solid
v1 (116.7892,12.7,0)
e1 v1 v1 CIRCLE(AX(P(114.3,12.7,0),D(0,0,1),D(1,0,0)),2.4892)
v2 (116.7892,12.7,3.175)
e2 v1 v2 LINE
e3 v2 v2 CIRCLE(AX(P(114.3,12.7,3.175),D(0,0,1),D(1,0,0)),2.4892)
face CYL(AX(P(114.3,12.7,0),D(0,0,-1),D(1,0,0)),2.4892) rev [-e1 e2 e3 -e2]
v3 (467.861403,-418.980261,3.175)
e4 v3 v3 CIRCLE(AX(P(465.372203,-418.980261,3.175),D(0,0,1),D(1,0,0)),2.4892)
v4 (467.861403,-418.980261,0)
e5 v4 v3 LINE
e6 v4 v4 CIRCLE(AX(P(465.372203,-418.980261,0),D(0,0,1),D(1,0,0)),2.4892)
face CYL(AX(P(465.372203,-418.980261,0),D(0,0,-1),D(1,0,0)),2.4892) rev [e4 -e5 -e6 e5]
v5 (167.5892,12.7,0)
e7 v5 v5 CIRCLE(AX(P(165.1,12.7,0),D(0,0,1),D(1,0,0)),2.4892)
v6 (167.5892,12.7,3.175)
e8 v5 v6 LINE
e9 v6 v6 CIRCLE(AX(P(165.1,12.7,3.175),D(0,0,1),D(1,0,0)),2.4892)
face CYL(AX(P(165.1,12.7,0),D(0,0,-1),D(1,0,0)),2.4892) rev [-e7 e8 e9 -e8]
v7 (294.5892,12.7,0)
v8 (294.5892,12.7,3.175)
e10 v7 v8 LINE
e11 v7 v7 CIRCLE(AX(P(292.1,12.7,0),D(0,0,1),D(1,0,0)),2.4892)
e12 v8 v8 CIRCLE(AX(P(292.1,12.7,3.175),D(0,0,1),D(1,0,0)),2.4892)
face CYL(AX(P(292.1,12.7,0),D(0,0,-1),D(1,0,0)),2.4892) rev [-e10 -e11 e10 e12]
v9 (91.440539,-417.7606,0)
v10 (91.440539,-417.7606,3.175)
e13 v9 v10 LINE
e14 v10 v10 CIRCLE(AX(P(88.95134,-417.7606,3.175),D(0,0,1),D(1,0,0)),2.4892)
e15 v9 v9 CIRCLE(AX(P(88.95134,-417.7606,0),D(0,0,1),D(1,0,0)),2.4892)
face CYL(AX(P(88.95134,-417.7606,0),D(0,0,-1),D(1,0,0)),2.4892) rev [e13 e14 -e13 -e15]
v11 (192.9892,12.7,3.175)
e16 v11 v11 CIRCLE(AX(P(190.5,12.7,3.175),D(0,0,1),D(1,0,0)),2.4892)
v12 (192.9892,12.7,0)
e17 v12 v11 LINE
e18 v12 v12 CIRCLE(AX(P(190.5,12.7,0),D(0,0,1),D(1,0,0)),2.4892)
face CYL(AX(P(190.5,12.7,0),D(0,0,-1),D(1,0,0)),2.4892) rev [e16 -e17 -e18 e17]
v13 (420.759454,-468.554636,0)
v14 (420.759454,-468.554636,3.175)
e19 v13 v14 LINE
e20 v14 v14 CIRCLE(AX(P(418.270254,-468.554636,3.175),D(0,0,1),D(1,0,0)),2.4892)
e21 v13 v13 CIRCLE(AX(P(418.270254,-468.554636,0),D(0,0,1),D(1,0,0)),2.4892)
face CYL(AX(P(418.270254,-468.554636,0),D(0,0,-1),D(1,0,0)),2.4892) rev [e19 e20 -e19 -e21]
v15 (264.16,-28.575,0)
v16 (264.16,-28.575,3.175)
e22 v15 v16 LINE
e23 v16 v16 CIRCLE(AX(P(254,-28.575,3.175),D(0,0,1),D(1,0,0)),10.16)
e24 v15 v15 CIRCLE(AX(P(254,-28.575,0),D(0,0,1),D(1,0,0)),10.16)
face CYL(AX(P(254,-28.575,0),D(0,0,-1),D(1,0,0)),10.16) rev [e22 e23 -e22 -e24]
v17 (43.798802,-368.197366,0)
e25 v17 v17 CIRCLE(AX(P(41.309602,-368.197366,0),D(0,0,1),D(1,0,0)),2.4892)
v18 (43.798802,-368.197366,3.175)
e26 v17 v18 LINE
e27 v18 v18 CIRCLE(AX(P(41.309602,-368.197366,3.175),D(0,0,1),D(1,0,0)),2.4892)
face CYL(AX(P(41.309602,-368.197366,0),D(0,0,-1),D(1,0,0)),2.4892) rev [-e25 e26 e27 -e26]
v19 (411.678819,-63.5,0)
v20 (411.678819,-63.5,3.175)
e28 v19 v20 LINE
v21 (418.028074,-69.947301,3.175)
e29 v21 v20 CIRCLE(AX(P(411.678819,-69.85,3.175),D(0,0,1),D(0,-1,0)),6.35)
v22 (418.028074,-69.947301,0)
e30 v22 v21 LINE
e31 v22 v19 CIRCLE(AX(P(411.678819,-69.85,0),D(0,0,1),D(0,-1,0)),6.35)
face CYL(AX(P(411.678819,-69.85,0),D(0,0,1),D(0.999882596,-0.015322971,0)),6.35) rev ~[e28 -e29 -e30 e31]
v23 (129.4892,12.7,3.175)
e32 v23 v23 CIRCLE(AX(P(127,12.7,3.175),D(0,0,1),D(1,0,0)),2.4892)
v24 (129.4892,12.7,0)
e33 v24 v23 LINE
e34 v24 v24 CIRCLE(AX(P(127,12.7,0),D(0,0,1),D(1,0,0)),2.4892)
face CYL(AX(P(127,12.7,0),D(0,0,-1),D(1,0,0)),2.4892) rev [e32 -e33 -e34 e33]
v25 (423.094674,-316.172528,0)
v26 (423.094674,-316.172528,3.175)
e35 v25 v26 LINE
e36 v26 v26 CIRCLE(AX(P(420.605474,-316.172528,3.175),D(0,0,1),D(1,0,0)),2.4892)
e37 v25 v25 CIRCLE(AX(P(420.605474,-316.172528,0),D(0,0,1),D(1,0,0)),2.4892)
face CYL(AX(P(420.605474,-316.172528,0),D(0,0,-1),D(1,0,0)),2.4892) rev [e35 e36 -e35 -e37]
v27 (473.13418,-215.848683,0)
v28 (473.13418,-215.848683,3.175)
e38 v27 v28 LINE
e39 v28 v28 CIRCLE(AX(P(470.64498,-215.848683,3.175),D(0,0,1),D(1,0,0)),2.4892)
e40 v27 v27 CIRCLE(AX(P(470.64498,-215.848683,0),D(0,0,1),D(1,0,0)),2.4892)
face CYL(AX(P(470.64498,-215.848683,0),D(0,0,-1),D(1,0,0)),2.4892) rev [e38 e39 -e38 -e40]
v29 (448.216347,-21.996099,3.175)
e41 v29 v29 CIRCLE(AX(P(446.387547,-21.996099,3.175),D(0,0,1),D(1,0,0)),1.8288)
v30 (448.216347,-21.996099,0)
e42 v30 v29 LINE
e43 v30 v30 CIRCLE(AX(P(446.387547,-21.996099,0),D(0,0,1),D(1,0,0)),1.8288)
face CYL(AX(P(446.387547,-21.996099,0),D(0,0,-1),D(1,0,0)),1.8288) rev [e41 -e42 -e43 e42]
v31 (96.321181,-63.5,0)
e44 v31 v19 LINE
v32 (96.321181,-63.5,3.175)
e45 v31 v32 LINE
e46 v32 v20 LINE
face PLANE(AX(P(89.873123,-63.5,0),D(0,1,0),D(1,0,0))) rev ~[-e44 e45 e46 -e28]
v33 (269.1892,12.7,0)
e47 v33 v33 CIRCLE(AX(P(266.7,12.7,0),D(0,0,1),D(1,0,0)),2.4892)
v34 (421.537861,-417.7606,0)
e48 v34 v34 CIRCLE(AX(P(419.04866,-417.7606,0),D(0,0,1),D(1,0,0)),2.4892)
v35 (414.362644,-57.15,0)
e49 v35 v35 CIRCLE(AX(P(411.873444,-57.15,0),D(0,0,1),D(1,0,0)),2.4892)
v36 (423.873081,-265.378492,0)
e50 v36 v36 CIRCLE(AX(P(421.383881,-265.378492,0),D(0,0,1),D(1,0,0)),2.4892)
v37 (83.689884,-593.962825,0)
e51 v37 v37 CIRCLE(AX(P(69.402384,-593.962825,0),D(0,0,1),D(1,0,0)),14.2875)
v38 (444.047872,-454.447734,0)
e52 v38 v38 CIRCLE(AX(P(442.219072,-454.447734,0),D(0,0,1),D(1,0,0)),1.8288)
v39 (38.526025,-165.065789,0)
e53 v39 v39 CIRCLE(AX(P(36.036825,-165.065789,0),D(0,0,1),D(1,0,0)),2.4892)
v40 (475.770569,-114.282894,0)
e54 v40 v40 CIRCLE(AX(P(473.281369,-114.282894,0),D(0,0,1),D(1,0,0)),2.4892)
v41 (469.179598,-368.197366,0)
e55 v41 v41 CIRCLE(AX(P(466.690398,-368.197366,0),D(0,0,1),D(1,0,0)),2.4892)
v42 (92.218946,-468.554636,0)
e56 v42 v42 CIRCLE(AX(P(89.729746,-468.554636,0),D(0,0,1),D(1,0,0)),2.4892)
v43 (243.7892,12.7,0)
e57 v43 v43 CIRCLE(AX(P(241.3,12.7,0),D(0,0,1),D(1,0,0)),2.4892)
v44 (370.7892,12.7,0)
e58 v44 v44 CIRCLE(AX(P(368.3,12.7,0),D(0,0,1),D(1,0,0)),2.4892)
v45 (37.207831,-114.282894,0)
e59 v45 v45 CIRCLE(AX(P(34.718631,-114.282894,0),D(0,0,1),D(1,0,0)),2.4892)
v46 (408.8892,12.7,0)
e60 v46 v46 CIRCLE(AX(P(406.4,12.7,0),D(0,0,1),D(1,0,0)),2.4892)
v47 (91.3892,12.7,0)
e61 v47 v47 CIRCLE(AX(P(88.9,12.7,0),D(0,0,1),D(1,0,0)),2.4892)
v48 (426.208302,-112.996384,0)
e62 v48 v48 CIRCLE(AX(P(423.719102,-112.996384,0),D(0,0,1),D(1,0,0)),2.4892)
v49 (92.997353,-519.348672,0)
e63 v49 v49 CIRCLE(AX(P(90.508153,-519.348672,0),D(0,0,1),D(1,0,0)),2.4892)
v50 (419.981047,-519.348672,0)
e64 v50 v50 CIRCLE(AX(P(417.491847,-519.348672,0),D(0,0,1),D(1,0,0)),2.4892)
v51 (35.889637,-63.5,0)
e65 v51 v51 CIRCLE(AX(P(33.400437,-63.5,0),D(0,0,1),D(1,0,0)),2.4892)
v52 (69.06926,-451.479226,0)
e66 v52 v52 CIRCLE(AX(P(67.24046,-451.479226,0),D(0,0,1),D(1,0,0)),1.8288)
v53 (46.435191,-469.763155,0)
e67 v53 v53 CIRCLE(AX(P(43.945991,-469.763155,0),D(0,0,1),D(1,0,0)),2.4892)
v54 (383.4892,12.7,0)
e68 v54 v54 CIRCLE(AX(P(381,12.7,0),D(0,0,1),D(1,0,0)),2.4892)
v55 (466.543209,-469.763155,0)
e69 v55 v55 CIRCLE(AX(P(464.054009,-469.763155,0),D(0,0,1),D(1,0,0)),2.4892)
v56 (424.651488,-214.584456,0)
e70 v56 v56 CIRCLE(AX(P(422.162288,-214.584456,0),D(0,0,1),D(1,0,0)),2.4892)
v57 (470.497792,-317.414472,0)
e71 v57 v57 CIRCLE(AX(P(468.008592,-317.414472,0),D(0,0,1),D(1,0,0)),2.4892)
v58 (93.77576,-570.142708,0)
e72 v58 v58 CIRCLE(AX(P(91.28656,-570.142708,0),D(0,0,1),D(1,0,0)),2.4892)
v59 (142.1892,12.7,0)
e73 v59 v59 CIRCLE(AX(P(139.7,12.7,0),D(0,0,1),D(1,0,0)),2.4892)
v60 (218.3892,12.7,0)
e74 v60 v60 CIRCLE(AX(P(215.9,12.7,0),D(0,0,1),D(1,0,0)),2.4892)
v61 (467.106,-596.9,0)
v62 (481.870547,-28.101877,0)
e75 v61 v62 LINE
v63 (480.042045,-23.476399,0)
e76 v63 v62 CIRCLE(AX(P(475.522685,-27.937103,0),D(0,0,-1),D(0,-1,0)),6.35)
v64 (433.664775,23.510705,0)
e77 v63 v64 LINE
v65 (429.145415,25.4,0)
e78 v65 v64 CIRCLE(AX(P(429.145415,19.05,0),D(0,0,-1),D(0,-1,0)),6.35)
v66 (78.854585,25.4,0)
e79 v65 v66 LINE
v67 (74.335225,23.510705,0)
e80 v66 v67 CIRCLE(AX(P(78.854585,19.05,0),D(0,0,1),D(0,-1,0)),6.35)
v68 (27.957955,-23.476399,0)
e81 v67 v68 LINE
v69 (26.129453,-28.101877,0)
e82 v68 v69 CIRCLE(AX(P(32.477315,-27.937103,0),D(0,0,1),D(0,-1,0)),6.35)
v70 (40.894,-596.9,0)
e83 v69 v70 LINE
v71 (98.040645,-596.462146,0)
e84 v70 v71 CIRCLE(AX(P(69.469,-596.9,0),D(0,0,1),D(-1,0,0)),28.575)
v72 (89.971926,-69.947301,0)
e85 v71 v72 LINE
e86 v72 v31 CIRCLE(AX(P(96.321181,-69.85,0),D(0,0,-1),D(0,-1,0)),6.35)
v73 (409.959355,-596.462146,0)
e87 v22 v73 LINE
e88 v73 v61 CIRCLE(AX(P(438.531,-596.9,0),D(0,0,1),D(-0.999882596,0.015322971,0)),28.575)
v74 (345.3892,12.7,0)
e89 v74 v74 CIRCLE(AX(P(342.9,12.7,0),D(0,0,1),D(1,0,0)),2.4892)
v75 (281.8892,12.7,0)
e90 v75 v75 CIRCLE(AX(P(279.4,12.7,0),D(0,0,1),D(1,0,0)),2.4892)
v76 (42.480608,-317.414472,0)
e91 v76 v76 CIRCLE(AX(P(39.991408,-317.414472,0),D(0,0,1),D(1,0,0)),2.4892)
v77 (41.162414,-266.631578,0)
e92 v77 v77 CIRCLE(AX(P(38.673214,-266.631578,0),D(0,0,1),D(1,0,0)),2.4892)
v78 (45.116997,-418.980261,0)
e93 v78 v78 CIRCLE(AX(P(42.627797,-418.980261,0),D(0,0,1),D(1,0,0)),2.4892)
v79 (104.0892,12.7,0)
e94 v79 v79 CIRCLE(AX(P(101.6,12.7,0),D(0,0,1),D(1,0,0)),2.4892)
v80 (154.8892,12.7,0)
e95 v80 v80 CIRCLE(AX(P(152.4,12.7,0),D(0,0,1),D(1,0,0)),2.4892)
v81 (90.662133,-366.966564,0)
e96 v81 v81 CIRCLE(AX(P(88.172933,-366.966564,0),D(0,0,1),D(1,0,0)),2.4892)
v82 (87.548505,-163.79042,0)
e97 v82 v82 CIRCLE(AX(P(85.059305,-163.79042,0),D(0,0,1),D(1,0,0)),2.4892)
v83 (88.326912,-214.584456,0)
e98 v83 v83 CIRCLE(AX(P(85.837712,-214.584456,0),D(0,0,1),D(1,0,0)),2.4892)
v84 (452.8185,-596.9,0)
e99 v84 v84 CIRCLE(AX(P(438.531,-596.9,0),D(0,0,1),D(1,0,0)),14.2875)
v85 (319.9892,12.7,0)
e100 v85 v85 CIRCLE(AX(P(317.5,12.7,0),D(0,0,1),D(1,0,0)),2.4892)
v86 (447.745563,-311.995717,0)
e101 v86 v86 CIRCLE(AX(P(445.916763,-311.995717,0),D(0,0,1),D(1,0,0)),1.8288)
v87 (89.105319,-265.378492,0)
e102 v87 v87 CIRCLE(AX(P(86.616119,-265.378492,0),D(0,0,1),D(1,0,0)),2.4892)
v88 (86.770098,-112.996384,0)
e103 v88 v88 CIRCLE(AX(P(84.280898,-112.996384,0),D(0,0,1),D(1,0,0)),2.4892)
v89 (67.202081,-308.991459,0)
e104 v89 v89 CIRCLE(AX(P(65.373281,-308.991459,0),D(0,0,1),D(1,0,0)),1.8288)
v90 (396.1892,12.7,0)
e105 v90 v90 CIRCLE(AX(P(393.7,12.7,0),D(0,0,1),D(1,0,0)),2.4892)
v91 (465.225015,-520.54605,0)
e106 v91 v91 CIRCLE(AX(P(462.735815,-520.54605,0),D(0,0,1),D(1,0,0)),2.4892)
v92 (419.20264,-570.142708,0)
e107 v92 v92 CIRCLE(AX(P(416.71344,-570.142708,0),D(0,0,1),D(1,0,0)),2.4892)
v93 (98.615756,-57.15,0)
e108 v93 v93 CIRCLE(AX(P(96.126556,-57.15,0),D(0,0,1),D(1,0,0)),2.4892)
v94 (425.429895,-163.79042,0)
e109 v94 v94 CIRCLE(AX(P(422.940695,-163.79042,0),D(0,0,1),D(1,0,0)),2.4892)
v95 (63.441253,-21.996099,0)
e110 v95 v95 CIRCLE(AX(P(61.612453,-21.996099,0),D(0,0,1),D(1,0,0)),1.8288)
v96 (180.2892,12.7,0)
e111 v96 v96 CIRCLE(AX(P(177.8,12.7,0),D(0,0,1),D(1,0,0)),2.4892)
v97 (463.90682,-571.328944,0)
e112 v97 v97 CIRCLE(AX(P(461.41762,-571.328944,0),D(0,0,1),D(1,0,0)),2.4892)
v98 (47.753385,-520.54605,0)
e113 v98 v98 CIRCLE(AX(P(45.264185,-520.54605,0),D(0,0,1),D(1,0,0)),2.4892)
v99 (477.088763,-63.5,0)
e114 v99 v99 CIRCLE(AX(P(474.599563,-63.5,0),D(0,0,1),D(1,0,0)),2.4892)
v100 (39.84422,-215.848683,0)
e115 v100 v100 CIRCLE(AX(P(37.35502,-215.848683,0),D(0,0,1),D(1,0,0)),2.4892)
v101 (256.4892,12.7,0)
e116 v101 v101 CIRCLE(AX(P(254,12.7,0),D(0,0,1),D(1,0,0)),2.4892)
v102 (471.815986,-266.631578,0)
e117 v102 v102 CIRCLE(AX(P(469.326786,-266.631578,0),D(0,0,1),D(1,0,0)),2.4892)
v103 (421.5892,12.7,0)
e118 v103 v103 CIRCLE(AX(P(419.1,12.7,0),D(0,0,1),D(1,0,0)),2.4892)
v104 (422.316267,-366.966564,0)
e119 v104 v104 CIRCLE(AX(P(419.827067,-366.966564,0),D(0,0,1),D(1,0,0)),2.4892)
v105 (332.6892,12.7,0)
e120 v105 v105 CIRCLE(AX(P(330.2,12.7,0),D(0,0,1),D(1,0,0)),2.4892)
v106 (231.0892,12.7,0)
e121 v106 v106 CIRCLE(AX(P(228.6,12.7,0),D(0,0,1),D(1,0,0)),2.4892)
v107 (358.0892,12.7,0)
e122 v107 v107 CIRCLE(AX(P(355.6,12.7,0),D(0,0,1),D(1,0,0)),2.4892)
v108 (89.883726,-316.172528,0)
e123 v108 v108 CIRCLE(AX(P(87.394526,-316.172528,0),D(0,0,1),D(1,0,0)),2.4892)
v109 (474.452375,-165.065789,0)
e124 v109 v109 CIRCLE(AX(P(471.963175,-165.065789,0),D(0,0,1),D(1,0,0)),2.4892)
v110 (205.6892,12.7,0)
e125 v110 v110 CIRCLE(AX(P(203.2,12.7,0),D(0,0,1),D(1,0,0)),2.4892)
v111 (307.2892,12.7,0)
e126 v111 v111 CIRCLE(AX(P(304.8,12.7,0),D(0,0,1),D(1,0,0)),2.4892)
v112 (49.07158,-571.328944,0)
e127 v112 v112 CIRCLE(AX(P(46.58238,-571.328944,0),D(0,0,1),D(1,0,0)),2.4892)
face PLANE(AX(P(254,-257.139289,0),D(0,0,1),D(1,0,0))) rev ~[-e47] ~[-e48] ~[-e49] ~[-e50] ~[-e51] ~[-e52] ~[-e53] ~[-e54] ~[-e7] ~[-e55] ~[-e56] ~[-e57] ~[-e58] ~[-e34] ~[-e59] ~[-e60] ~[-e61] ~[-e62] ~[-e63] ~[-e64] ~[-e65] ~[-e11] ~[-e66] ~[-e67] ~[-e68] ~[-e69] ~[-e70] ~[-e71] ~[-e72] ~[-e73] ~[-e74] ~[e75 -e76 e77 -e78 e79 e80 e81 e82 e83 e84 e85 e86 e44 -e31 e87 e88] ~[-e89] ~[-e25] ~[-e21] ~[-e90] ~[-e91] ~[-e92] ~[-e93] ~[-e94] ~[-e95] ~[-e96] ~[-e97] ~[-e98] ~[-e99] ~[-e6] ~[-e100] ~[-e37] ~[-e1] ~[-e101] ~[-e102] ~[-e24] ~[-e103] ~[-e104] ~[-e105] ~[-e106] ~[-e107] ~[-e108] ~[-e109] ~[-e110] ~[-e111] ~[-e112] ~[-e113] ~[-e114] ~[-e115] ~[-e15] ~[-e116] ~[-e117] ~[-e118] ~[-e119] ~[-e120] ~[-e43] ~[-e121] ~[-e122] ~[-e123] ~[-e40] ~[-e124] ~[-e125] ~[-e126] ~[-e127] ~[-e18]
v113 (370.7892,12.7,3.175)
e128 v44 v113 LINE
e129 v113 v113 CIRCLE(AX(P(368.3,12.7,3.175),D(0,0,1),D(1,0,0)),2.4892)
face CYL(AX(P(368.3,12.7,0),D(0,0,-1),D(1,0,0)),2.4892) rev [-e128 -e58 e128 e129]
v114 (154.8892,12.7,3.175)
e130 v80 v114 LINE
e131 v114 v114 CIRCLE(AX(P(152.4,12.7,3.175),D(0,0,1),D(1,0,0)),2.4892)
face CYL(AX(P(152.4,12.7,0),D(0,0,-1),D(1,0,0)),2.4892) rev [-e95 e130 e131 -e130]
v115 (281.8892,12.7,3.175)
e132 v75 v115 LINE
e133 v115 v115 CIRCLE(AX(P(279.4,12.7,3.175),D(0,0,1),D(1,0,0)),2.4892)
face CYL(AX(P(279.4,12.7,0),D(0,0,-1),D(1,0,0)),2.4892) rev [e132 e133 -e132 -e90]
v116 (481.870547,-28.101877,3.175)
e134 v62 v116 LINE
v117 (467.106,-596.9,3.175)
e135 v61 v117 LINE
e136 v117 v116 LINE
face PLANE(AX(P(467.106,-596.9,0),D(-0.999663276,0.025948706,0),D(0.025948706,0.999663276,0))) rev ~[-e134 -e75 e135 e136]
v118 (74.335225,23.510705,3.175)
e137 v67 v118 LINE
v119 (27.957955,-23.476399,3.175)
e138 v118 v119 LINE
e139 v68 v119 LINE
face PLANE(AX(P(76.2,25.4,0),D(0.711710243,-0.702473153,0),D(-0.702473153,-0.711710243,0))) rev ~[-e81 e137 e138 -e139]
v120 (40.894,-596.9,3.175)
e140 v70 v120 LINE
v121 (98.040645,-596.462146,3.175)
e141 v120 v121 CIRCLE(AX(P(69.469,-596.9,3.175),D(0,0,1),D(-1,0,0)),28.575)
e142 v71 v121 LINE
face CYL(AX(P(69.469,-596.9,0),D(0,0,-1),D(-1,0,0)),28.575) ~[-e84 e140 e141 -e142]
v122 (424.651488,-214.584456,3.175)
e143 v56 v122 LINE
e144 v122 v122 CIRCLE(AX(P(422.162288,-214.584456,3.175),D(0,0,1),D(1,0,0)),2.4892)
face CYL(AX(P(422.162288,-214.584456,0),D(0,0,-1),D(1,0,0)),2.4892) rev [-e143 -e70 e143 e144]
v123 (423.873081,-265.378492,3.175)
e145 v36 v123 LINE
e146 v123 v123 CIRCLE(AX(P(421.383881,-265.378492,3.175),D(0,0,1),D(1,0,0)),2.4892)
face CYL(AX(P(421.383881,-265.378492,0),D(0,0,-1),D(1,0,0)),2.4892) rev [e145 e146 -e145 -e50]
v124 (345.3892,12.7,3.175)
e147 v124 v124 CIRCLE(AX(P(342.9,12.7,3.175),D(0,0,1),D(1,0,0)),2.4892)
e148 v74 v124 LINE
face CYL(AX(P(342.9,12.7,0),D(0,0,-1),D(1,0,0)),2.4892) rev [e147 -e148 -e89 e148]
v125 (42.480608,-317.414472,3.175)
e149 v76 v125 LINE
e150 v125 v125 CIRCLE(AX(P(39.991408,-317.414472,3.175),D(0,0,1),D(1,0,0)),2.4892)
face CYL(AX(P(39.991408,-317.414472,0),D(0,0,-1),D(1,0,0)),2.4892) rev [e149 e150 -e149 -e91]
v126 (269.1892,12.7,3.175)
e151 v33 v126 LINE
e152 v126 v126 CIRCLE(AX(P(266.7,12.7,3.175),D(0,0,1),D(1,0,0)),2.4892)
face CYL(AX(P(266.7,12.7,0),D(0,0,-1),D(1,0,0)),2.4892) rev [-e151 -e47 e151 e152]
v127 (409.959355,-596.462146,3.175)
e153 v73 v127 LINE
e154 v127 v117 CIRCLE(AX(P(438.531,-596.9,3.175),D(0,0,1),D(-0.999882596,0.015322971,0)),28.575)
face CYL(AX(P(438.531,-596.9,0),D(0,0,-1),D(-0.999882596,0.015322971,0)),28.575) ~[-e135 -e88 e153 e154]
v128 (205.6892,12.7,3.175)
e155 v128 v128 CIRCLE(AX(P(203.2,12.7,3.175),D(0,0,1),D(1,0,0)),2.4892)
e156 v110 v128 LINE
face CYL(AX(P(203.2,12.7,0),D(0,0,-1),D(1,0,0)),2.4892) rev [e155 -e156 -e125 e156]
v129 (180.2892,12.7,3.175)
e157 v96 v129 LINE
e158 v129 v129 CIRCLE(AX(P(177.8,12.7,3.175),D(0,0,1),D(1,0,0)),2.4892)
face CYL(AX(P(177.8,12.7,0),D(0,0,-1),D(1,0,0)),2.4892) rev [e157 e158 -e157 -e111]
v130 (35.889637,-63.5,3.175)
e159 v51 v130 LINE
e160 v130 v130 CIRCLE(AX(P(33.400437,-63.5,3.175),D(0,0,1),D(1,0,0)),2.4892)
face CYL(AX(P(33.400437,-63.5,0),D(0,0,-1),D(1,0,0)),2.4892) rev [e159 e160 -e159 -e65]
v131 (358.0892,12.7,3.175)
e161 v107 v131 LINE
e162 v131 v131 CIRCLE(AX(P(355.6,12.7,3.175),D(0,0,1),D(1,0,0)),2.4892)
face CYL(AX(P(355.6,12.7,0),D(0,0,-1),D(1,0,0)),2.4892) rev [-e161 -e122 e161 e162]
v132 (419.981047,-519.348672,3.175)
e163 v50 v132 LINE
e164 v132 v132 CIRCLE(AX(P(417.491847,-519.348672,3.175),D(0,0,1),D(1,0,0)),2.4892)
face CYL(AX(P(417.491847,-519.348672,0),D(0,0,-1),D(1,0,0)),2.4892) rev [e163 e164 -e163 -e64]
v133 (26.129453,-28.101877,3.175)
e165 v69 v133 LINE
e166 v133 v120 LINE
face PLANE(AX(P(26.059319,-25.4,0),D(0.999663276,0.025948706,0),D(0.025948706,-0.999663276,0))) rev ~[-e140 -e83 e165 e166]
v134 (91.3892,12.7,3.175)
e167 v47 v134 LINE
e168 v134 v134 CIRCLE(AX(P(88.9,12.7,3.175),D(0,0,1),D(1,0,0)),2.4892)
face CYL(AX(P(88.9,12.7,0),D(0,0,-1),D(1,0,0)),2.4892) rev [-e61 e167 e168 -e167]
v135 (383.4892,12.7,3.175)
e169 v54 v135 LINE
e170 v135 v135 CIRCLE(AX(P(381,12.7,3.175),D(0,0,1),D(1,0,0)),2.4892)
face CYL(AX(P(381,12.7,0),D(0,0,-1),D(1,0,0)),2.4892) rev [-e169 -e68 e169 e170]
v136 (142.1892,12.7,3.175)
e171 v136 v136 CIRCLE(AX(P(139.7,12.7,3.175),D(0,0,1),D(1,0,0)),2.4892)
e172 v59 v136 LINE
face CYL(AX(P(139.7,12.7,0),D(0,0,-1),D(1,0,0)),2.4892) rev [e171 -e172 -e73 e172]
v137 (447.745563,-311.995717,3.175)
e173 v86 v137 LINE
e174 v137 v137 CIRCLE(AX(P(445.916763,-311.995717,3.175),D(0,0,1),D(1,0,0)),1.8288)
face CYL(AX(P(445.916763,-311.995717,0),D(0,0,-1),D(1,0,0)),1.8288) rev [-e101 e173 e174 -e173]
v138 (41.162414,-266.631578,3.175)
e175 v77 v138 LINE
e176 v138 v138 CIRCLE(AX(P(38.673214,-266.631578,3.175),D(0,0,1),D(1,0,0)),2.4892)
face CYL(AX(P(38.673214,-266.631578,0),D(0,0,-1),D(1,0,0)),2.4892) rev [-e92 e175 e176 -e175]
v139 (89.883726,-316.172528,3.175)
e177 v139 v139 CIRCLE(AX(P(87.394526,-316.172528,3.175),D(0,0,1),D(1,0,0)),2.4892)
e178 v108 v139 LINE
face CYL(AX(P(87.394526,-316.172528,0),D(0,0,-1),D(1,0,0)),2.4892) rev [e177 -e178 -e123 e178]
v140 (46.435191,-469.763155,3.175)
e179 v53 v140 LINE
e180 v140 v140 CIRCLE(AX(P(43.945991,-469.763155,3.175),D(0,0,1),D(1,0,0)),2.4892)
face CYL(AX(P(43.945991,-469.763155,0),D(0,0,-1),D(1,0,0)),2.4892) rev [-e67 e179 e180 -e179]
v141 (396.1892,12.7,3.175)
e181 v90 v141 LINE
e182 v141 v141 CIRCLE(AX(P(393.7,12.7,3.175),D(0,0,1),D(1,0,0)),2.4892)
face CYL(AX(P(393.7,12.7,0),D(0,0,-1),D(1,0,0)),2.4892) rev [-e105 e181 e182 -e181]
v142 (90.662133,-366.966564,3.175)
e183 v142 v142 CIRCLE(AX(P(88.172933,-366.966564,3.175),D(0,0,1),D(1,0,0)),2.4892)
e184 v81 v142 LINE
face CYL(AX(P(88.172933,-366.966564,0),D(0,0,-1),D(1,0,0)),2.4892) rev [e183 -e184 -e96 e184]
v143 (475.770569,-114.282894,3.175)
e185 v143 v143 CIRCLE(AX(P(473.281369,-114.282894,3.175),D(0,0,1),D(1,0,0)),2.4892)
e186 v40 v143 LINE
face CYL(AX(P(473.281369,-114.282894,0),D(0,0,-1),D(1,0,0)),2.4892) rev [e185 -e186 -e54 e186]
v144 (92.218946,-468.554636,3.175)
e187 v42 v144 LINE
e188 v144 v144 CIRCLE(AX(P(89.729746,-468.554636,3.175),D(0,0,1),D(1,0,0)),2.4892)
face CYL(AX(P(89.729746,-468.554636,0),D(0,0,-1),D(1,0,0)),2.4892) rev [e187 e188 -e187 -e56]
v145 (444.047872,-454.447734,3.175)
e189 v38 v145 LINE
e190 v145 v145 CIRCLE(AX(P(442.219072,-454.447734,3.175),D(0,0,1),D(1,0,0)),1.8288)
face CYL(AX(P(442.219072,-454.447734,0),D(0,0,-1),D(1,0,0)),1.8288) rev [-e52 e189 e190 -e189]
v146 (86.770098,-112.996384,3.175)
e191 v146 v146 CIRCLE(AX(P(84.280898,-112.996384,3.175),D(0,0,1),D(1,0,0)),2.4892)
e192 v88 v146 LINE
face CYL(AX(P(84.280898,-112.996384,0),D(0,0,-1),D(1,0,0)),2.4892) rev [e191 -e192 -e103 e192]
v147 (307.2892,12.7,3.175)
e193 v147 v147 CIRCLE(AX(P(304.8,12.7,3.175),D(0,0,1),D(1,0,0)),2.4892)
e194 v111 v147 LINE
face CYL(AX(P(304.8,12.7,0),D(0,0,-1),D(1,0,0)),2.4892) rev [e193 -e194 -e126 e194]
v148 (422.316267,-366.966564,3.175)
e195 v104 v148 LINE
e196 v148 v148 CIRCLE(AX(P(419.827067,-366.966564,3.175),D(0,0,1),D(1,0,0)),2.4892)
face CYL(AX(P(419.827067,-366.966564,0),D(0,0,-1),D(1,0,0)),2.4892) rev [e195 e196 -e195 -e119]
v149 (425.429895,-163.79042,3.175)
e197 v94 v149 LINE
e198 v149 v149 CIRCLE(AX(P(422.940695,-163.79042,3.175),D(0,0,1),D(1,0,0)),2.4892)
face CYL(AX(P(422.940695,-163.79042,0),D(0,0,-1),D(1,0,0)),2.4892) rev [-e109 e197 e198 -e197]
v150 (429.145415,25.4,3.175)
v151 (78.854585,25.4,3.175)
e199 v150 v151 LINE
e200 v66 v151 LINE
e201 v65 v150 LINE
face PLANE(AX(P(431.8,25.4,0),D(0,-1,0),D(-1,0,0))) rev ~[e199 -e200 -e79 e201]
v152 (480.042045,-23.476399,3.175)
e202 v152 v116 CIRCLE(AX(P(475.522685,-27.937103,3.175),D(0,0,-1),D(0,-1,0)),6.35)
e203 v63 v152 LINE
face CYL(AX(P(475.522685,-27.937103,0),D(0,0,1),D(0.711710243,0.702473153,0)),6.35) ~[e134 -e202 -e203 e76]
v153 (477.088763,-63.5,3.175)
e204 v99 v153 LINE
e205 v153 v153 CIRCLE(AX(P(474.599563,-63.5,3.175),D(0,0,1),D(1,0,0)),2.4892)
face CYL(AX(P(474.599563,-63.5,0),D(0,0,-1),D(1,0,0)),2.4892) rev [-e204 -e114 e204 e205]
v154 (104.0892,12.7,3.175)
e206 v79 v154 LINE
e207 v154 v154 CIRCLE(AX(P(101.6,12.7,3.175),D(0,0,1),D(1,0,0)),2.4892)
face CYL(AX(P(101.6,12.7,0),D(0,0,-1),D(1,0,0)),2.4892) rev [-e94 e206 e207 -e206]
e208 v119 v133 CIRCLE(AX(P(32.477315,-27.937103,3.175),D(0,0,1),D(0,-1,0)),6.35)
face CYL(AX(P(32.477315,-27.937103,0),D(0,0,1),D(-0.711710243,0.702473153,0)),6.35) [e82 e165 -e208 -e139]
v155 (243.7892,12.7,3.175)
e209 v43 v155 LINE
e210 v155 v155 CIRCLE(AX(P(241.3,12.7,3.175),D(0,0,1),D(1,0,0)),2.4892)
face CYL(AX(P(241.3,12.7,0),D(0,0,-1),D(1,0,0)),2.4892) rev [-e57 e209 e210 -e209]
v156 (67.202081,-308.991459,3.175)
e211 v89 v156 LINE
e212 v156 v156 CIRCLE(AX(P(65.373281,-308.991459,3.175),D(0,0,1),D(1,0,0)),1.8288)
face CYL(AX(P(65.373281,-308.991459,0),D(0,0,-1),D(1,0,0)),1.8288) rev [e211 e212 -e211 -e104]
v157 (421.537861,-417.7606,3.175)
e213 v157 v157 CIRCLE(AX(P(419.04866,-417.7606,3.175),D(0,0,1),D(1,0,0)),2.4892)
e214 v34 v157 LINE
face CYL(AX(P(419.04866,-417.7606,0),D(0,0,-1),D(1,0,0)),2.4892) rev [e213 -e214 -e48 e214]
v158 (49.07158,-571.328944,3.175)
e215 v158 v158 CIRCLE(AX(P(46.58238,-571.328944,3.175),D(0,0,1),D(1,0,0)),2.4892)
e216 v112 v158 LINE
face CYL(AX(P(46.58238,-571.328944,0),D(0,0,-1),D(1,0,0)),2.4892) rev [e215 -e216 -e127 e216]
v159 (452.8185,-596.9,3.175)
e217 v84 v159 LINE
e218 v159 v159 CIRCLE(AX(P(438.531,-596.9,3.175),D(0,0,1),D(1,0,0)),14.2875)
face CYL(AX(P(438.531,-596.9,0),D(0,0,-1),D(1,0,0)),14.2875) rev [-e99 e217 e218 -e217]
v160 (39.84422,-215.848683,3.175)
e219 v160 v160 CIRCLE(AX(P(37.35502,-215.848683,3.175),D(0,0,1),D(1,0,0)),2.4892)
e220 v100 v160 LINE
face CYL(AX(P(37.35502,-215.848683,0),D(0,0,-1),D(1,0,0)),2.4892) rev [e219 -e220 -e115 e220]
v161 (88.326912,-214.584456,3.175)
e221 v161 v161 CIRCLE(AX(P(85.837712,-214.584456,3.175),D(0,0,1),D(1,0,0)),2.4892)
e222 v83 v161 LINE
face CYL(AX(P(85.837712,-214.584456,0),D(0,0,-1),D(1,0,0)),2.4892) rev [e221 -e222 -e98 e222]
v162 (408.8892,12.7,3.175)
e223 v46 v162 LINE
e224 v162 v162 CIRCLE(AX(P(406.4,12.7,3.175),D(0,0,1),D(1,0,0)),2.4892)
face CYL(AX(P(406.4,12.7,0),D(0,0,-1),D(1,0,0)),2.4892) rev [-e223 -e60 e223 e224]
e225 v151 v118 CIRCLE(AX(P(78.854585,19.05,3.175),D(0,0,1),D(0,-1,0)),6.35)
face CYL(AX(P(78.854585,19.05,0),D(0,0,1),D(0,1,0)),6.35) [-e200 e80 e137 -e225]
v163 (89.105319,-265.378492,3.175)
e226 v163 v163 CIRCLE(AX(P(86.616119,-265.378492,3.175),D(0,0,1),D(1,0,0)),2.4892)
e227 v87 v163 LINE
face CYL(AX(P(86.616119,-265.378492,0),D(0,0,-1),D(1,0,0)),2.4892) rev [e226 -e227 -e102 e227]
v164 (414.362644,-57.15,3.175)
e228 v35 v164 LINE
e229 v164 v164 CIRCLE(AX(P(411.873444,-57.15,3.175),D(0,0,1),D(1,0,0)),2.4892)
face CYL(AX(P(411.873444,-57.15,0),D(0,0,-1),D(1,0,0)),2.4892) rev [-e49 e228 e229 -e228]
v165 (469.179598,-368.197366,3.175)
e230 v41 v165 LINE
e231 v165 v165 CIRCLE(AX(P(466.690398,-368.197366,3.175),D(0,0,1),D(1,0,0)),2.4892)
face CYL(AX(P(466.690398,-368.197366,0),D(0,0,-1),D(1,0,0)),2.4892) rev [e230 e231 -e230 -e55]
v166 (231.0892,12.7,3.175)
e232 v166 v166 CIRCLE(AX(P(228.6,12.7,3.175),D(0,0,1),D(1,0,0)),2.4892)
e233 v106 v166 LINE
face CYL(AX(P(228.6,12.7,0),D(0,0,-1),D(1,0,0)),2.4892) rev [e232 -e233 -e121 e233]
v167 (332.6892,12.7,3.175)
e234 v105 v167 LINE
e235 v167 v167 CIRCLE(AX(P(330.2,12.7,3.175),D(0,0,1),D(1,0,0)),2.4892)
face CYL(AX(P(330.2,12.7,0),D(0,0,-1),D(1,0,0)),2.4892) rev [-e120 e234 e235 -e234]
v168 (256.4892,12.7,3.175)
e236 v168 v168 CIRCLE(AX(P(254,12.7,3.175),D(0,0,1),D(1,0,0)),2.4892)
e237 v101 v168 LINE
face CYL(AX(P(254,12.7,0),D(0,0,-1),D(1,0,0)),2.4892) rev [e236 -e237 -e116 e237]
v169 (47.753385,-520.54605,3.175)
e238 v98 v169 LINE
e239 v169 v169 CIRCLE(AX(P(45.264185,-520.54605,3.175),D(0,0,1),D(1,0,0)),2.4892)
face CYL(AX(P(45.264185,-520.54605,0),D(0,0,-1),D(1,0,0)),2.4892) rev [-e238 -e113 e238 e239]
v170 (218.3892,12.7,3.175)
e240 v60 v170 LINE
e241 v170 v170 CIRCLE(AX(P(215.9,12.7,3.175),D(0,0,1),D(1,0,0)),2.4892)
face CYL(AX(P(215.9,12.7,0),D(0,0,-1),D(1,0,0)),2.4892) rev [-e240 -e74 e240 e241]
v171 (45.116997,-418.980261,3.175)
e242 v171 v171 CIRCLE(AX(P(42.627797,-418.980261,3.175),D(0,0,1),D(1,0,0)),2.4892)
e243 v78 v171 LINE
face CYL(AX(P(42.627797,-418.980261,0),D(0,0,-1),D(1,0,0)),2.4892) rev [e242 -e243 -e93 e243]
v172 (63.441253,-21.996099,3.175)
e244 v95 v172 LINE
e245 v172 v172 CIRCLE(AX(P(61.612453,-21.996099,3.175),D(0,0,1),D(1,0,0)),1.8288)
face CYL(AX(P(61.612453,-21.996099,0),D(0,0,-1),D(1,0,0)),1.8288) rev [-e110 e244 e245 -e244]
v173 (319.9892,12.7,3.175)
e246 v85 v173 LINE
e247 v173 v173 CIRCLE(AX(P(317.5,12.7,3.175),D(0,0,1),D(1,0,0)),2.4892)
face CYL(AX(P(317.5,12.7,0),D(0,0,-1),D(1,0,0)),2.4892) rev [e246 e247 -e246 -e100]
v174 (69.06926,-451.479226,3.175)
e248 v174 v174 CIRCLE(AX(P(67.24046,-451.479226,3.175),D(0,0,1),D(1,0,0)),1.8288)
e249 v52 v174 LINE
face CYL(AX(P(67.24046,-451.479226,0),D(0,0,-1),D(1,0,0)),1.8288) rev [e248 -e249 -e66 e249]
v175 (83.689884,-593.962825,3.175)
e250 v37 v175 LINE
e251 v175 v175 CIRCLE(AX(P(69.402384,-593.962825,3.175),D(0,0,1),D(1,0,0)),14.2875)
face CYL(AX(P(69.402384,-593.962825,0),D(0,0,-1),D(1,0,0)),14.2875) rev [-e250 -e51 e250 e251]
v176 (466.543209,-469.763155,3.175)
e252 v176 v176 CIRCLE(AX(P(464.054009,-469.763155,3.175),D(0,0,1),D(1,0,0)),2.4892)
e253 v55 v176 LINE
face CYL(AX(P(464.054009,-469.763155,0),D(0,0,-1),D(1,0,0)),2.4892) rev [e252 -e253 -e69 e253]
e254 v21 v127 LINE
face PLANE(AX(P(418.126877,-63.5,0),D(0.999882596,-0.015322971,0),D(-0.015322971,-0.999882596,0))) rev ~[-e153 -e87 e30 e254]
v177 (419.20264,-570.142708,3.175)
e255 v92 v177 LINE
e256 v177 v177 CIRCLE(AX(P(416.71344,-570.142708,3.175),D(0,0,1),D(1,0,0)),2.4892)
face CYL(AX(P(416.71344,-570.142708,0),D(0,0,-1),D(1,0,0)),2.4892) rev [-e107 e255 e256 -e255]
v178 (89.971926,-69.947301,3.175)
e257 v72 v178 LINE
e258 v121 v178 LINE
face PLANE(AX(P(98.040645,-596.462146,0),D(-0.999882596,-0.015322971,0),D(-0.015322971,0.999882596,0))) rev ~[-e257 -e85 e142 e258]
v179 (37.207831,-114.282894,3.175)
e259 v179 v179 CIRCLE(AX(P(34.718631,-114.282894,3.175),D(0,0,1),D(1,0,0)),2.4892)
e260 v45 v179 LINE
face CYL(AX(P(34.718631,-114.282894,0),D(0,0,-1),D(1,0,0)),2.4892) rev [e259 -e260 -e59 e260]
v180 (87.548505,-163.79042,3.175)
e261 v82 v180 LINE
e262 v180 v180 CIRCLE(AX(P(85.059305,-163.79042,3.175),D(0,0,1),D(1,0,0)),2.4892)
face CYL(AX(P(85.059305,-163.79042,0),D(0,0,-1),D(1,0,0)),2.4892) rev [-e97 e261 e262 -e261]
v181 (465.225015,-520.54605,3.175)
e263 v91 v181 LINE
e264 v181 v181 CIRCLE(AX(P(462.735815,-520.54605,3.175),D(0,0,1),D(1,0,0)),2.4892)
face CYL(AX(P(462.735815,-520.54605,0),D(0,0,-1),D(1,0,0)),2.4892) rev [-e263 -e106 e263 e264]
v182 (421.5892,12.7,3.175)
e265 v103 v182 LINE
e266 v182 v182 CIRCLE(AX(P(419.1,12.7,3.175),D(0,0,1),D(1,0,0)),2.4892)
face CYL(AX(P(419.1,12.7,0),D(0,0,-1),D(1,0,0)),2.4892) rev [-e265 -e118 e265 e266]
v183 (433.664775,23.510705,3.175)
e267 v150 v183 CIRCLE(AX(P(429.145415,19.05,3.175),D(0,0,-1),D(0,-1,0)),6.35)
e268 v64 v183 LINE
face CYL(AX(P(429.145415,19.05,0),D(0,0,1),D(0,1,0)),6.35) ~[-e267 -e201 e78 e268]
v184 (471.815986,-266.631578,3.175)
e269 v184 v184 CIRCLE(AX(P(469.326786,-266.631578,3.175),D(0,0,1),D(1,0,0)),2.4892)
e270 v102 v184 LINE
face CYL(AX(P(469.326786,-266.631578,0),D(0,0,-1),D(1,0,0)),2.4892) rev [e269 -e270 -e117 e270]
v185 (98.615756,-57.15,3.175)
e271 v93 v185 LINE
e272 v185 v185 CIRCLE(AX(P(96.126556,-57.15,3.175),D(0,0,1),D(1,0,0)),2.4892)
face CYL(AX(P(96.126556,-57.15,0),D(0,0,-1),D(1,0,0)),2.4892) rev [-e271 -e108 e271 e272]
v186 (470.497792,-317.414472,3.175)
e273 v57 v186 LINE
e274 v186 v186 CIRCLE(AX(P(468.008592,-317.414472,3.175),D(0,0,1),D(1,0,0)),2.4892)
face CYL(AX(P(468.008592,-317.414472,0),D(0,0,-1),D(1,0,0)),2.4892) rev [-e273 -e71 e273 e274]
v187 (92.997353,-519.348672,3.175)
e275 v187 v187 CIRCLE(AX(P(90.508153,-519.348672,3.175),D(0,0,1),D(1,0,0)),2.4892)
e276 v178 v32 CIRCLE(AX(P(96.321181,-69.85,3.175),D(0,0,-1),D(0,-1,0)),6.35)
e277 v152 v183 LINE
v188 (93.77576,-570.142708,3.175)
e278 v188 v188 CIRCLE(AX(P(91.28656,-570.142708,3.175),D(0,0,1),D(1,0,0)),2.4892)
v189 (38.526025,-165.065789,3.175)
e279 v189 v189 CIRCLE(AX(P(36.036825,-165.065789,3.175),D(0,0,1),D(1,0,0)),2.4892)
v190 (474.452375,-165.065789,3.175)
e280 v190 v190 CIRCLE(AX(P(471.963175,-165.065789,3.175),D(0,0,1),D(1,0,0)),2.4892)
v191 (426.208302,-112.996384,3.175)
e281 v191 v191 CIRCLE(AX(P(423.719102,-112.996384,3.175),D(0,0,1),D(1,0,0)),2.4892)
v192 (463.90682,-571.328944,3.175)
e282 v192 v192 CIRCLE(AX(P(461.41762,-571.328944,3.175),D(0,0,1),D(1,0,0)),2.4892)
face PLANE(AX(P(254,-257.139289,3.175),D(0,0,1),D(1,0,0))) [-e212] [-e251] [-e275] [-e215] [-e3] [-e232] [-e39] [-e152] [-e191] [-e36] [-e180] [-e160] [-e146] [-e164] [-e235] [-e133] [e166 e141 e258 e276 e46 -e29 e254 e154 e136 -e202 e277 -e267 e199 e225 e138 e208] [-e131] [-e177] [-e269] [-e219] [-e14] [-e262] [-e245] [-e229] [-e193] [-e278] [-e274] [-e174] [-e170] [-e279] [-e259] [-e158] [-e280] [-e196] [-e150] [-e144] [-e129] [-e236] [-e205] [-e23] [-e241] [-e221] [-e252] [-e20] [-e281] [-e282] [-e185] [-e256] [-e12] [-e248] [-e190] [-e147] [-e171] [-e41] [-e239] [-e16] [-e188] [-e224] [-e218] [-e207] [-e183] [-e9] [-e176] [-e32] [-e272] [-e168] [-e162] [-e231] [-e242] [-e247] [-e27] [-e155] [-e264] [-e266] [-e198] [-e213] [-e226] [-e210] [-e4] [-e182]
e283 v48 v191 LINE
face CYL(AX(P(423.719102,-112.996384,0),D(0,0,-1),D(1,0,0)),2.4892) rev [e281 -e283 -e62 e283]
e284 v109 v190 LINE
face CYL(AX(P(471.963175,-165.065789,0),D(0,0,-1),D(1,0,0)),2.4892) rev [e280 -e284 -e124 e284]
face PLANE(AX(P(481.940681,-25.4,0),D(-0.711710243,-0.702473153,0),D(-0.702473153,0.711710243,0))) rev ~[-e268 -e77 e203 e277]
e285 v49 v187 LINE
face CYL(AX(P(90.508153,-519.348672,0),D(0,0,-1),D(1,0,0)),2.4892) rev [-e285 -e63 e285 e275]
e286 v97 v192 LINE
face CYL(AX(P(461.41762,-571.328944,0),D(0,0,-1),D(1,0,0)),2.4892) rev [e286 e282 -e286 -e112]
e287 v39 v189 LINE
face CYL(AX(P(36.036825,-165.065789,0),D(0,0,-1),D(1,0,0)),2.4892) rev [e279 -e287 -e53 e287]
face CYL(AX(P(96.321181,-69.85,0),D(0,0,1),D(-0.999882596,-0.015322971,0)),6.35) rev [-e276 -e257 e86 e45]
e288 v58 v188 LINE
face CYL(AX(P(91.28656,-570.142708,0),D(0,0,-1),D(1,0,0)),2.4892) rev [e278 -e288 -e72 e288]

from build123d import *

# Parameters (mm, degrees)
SKETCH1_R           = 14.2875
SKETCH1_R_2         = 2.4892
SKETCH1_R_3         = 1.8288
SKETCH1_R_4         = 10.16
BOSS_EXTRUDE1_DEPTH = 3.175
FILLET1_R           = 6.35


with BuildPart() as part:
    # Sketch1 → Boss-Extrude1 (new body)
    with BuildSketch(Plane.XY):
        with BuildLine():
            Line((431.8, 25.4), (76.2, 25.4))
            Line((76.2, 25.4), (26.059319149, -25.4))
            Line((26.059319149, -25.4), (40.894, -596.9))
            ThreePointArc((40.894, -596.9), (69.687933371, -625.474161286), (98.040645192, -596.462146109))
            Line((98.040645192, -596.462146109), (89.873122894, -63.5))
            Line((89.873122894, -63.5), (418.126877106, -63.5))
            Line((418.126877106, -63.5), (409.959354808, -596.462146109))
            ThreePointArc((409.959354808, -596.462146109), (438.312066629, -625.474161286), (467.106, -596.9))
            Line((467.106, -596.9), (481.940680851, -25.4))
            Line((481.940680851, -25.4), (431.8, 25.4))
        make_face()
        with Locations((69.402383578, -593.962825081)):
            Circle(SKETCH1_R, mode=Mode.SUBTRACT)
        with Locations((46.582379595, -571.328944019)):
            Circle(SKETCH1_R_2, mode=Mode.SUBTRACT)
        with Locations((91.28656025, -570.142707564)):
            Circle(SKETCH1_R_2, mode=Mode.SUBTRACT)
        with Locations((45.264185314, -520.546049618)):
            Circle(SKETCH1_R_2, mode=Mode.SUBTRACT)
        with Locations((43.945991034, -469.763155216)):
            Circle(SKETCH1_R_2, mode=Mode.SUBTRACT)
        with Locations((90.508153333, -519.348671668)):
            Circle(SKETCH1_R_2, mode=Mode.SUBTRACT)
        with Locations((89.729746417, -468.554635771)):
            Circle(SKETCH1_R_2, mode=Mode.SUBTRACT)
        with Locations((67.240460084, -451.479225721)):
            Circle(SKETCH1_R_3, mode=Mode.SUBTRACT)
        with Locations((42.627796754, -418.980260814)):
            Circle(SKETCH1_R_2, mode=Mode.SUBTRACT)
        with Locations((88.9513395, -417.760599874)):
            Circle(SKETCH1_R_2, mode=Mode.SUBTRACT)
        with Locations((41.309602474, -368.197366412)):
            Circle(SKETCH1_R_2, mode=Mode.SUBTRACT)
        with Locations((39.991408193, -317.41447201)):
            Circle(SKETCH1_R_2, mode=Mode.SUBTRACT)
        with Locations((65.373280571, -308.991459085)):
            Circle(SKETCH1_R_3, mode=Mode.SUBTRACT)
        with Locations((88.172932583, -366.966563978)):
            Circle(SKETCH1_R_2, mode=Mode.SUBTRACT)
        with Locations((87.394525667, -316.172528081)):
            Circle(SKETCH1_R_2, mode=Mode.SUBTRACT)
        with Locations((416.71343975, -570.142707564)):
            Circle(SKETCH1_R_2, mode=Mode.SUBTRACT)
        with Locations((438.531, -596.9)):
            Circle(SKETCH1_R, mode=Mode.SUBTRACT)
        with Locations((461.417620405, -571.328944019)):
            Circle(SKETCH1_R_2, mode=Mode.SUBTRACT)
        with Locations((417.491846667, -519.348671668)):
            Circle(SKETCH1_R_2, mode=Mode.SUBTRACT)
        with Locations((418.270253583, -468.554635771)):
            Circle(SKETCH1_R_2, mode=Mode.SUBTRACT)
        with Locations((462.735814686, -520.546049618)):
            Circle(SKETCH1_R_2, mode=Mode.SUBTRACT)
        with Locations((464.054008966, -469.763155216)):
            Circle(SKETCH1_R_2, mode=Mode.SUBTRACT)
        with Locations((419.0486605, -417.760599874)):
            Circle(SKETCH1_R_2, mode=Mode.SUBTRACT)
        with Locations((442.219071981, -454.447733872)):
            Circle(SKETCH1_R_3, mode=Mode.SUBTRACT)
        with Locations((465.372203246, -418.980260814)):
            Circle(SKETCH1_R_2, mode=Mode.SUBTRACT)
        with Locations((419.827067417, -366.966563978)):
            Circle(SKETCH1_R_2, mode=Mode.SUBTRACT)
        with Locations((420.605474333, -316.172528081)):
            Circle(SKETCH1_R_2, mode=Mode.SUBTRACT)
        with Locations((466.690397526, -368.197366412)):
            Circle(SKETCH1_R_2, mode=Mode.SUBTRACT)
        with Locations((445.916762629, -311.995717095)):
            Circle(SKETCH1_R_3, mode=Mode.SUBTRACT)
        with Locations((468.008591807, -317.41447201)):
            Circle(SKETCH1_R_2, mode=Mode.SUBTRACT)
        with Locations((38.673213913, -266.631577608)):
            Circle(SKETCH1_R_2, mode=Mode.SUBTRACT)
        with Locations((86.61611875, -265.378492184)):
            Circle(SKETCH1_R_2, mode=Mode.SUBTRACT)
        with Locations((37.355019633, -215.848683206)):
            Circle(SKETCH1_R_2, mode=Mode.SUBTRACT)
        with Locations((36.036825353, -165.065788804)):
            Circle(SKETCH1_R_2, mode=Mode.SUBTRACT)
        with Locations((85.837711834, -214.584456288)):
            Circle(SKETCH1_R_2, mode=Mode.SUBTRACT)
        with Locations((85.059304917, -163.790420391)):
            Circle(SKETCH1_R_2, mode=Mode.SUBTRACT)
        with Locations((34.718631073, -114.282894402)):
            Circle(SKETCH1_R_2, mode=Mode.SUBTRACT)
        with Locations((33.400436792, -63.5)):
            Circle(SKETCH1_R_2, mode=Mode.SUBTRACT)
        with Locations((84.280898001, -112.996384494)):
            Circle(SKETCH1_R_2, mode=Mode.SUBTRACT)
        with Locations((61.612453458, -21.996099229)):
            Circle(SKETCH1_R_3, mode=Mode.SUBTRACT)
        with Locations((88.9, 12.7)):
            Circle(SKETCH1_R_2, mode=Mode.SUBTRACT)
        with Locations((101.6, 12.7)):
            Circle(SKETCH1_R_2, mode=Mode.SUBTRACT)
        with Locations((114.3, 12.7)):
            Circle(SKETCH1_R_2, mode=Mode.SUBTRACT)
        with Locations((127, 12.7)):
            Circle(SKETCH1_R_2, mode=Mode.SUBTRACT)
        with Locations((139.7, 12.7)):
            Circle(SKETCH1_R_2, mode=Mode.SUBTRACT)
        with Locations((152.4, 12.7)):
            Circle(SKETCH1_R_2, mode=Mode.SUBTRACT)
        with Locations((165.1, 12.7)):
            Circle(SKETCH1_R_2, mode=Mode.SUBTRACT)
        with Locations((177.8, 12.7)):
            Circle(SKETCH1_R_2, mode=Mode.SUBTRACT)
        with Locations((190.5, 12.7)):
            Circle(SKETCH1_R_2, mode=Mode.SUBTRACT)
        with Locations((203.2, 12.7)):
            Circle(SKETCH1_R_2, mode=Mode.SUBTRACT)
        with Locations((215.9, 12.7)):
            Circle(SKETCH1_R_2, mode=Mode.SUBTRACT)
        with Locations((228.6, 12.7)):
            Circle(SKETCH1_R_2, mode=Mode.SUBTRACT)
        with Locations((241.3, 12.7)):
            Circle(SKETCH1_R_2, mode=Mode.SUBTRACT)
        with Locations((421.38388125, -265.378492184)):
            Circle(SKETCH1_R_2, mode=Mode.SUBTRACT)
        with Locations((469.326786087, -266.631577608)):
            Circle(SKETCH1_R_2, mode=Mode.SUBTRACT)
        with Locations((422.162288166, -214.584456288)):
            Circle(SKETCH1_R_2, mode=Mode.SUBTRACT)
        with Locations((422.940695083, -163.790420391)):
            Circle(SKETCH1_R_2, mode=Mode.SUBTRACT)
        with Locations((470.644980367, -215.848683206)):
            Circle(SKETCH1_R_2, mode=Mode.SUBTRACT)
        with Locations((471.963174647, -165.065788804)):
            Circle(SKETCH1_R_2, mode=Mode.SUBTRACT)
        with Locations((254, 12.7)):
            Circle(SKETCH1_R_2, mode=Mode.SUBTRACT)
        with Locations((266.7, 12.7)):
            Circle(SKETCH1_R_2, mode=Mode.SUBTRACT)
        with Locations((279.4, 12.7)):
            Circle(SKETCH1_R_2, mode=Mode.SUBTRACT)
        with Locations((292.1, 12.7)):
            Circle(SKETCH1_R_2, mode=Mode.SUBTRACT)
        with Locations((304.8, 12.7)):
            Circle(SKETCH1_R_2, mode=Mode.SUBTRACT)
        with Locations((317.5, 12.7)):
            Circle(SKETCH1_R_2, mode=Mode.SUBTRACT)
        with Locations((330.2, 12.7)):
            Circle(SKETCH1_R_2, mode=Mode.SUBTRACT)
        with Locations((342.9, 12.7)):
            Circle(SKETCH1_R_2, mode=Mode.SUBTRACT)
        with Locations((355.6, 12.7)):
            Circle(SKETCH1_R_2, mode=Mode.SUBTRACT)
        with Locations((423.719101999, -112.996384494)):
            Circle(SKETCH1_R_2, mode=Mode.SUBTRACT)
        with Locations((473.281368927, -114.282894402)):
            Circle(SKETCH1_R_2, mode=Mode.SUBTRACT)
        with Locations((474.599563208, -63.5)):
            Circle(SKETCH1_R_2, mode=Mode.SUBTRACT)
        with Locations((368.3, 12.7)):
            Circle(SKETCH1_R_2, mode=Mode.SUBTRACT)
        with Locations((381, 12.7)):
            Circle(SKETCH1_R_2, mode=Mode.SUBTRACT)
        with Locations((393.7, 12.7)):
            Circle(SKETCH1_R_2, mode=Mode.SUBTRACT)
        with Locations((406.4, 12.7)):
            Circle(SKETCH1_R_2, mode=Mode.SUBTRACT)
        with Locations((419.1, 12.7)):
            Circle(SKETCH1_R_2, mode=Mode.SUBTRACT)
        with Locations((446.387546542, -21.996099229)):
            Circle(SKETCH1_R_3, mode=Mode.SUBTRACT)
        with Locations((96.126556205, -57.15)):
            Circle(SKETCH1_R_2, mode=Mode.SUBTRACT)
        with Locations((254, -28.575)):
            Circle(SKETCH1_R_4, mode=Mode.SUBTRACT)
        with Locations((411.873443795, -57.15)):
            Circle(SKETCH1_R_2, mode=Mode.SUBTRACT)
    extrude(amount=BOSS_EXTRUDE1_DEPTH)

    # Fillet1
    fillet1_edges = [part.edges().sort_by_distance(p)[0] for p in [
        (26.059319149, -25.4, 1.5875),
        (76.2, 25.4, 1.5875),
        (431.8, 25.4, 1.5875),
        (481.940680851, -25.4, 1.5875),
        (418.126877106, -63.5, 1.5875),
        (89.873122894, -63.5, 1.5875),
    ]]
    fillet(fillet1_edges, radius=FILLET1_R)


solid = part.part
